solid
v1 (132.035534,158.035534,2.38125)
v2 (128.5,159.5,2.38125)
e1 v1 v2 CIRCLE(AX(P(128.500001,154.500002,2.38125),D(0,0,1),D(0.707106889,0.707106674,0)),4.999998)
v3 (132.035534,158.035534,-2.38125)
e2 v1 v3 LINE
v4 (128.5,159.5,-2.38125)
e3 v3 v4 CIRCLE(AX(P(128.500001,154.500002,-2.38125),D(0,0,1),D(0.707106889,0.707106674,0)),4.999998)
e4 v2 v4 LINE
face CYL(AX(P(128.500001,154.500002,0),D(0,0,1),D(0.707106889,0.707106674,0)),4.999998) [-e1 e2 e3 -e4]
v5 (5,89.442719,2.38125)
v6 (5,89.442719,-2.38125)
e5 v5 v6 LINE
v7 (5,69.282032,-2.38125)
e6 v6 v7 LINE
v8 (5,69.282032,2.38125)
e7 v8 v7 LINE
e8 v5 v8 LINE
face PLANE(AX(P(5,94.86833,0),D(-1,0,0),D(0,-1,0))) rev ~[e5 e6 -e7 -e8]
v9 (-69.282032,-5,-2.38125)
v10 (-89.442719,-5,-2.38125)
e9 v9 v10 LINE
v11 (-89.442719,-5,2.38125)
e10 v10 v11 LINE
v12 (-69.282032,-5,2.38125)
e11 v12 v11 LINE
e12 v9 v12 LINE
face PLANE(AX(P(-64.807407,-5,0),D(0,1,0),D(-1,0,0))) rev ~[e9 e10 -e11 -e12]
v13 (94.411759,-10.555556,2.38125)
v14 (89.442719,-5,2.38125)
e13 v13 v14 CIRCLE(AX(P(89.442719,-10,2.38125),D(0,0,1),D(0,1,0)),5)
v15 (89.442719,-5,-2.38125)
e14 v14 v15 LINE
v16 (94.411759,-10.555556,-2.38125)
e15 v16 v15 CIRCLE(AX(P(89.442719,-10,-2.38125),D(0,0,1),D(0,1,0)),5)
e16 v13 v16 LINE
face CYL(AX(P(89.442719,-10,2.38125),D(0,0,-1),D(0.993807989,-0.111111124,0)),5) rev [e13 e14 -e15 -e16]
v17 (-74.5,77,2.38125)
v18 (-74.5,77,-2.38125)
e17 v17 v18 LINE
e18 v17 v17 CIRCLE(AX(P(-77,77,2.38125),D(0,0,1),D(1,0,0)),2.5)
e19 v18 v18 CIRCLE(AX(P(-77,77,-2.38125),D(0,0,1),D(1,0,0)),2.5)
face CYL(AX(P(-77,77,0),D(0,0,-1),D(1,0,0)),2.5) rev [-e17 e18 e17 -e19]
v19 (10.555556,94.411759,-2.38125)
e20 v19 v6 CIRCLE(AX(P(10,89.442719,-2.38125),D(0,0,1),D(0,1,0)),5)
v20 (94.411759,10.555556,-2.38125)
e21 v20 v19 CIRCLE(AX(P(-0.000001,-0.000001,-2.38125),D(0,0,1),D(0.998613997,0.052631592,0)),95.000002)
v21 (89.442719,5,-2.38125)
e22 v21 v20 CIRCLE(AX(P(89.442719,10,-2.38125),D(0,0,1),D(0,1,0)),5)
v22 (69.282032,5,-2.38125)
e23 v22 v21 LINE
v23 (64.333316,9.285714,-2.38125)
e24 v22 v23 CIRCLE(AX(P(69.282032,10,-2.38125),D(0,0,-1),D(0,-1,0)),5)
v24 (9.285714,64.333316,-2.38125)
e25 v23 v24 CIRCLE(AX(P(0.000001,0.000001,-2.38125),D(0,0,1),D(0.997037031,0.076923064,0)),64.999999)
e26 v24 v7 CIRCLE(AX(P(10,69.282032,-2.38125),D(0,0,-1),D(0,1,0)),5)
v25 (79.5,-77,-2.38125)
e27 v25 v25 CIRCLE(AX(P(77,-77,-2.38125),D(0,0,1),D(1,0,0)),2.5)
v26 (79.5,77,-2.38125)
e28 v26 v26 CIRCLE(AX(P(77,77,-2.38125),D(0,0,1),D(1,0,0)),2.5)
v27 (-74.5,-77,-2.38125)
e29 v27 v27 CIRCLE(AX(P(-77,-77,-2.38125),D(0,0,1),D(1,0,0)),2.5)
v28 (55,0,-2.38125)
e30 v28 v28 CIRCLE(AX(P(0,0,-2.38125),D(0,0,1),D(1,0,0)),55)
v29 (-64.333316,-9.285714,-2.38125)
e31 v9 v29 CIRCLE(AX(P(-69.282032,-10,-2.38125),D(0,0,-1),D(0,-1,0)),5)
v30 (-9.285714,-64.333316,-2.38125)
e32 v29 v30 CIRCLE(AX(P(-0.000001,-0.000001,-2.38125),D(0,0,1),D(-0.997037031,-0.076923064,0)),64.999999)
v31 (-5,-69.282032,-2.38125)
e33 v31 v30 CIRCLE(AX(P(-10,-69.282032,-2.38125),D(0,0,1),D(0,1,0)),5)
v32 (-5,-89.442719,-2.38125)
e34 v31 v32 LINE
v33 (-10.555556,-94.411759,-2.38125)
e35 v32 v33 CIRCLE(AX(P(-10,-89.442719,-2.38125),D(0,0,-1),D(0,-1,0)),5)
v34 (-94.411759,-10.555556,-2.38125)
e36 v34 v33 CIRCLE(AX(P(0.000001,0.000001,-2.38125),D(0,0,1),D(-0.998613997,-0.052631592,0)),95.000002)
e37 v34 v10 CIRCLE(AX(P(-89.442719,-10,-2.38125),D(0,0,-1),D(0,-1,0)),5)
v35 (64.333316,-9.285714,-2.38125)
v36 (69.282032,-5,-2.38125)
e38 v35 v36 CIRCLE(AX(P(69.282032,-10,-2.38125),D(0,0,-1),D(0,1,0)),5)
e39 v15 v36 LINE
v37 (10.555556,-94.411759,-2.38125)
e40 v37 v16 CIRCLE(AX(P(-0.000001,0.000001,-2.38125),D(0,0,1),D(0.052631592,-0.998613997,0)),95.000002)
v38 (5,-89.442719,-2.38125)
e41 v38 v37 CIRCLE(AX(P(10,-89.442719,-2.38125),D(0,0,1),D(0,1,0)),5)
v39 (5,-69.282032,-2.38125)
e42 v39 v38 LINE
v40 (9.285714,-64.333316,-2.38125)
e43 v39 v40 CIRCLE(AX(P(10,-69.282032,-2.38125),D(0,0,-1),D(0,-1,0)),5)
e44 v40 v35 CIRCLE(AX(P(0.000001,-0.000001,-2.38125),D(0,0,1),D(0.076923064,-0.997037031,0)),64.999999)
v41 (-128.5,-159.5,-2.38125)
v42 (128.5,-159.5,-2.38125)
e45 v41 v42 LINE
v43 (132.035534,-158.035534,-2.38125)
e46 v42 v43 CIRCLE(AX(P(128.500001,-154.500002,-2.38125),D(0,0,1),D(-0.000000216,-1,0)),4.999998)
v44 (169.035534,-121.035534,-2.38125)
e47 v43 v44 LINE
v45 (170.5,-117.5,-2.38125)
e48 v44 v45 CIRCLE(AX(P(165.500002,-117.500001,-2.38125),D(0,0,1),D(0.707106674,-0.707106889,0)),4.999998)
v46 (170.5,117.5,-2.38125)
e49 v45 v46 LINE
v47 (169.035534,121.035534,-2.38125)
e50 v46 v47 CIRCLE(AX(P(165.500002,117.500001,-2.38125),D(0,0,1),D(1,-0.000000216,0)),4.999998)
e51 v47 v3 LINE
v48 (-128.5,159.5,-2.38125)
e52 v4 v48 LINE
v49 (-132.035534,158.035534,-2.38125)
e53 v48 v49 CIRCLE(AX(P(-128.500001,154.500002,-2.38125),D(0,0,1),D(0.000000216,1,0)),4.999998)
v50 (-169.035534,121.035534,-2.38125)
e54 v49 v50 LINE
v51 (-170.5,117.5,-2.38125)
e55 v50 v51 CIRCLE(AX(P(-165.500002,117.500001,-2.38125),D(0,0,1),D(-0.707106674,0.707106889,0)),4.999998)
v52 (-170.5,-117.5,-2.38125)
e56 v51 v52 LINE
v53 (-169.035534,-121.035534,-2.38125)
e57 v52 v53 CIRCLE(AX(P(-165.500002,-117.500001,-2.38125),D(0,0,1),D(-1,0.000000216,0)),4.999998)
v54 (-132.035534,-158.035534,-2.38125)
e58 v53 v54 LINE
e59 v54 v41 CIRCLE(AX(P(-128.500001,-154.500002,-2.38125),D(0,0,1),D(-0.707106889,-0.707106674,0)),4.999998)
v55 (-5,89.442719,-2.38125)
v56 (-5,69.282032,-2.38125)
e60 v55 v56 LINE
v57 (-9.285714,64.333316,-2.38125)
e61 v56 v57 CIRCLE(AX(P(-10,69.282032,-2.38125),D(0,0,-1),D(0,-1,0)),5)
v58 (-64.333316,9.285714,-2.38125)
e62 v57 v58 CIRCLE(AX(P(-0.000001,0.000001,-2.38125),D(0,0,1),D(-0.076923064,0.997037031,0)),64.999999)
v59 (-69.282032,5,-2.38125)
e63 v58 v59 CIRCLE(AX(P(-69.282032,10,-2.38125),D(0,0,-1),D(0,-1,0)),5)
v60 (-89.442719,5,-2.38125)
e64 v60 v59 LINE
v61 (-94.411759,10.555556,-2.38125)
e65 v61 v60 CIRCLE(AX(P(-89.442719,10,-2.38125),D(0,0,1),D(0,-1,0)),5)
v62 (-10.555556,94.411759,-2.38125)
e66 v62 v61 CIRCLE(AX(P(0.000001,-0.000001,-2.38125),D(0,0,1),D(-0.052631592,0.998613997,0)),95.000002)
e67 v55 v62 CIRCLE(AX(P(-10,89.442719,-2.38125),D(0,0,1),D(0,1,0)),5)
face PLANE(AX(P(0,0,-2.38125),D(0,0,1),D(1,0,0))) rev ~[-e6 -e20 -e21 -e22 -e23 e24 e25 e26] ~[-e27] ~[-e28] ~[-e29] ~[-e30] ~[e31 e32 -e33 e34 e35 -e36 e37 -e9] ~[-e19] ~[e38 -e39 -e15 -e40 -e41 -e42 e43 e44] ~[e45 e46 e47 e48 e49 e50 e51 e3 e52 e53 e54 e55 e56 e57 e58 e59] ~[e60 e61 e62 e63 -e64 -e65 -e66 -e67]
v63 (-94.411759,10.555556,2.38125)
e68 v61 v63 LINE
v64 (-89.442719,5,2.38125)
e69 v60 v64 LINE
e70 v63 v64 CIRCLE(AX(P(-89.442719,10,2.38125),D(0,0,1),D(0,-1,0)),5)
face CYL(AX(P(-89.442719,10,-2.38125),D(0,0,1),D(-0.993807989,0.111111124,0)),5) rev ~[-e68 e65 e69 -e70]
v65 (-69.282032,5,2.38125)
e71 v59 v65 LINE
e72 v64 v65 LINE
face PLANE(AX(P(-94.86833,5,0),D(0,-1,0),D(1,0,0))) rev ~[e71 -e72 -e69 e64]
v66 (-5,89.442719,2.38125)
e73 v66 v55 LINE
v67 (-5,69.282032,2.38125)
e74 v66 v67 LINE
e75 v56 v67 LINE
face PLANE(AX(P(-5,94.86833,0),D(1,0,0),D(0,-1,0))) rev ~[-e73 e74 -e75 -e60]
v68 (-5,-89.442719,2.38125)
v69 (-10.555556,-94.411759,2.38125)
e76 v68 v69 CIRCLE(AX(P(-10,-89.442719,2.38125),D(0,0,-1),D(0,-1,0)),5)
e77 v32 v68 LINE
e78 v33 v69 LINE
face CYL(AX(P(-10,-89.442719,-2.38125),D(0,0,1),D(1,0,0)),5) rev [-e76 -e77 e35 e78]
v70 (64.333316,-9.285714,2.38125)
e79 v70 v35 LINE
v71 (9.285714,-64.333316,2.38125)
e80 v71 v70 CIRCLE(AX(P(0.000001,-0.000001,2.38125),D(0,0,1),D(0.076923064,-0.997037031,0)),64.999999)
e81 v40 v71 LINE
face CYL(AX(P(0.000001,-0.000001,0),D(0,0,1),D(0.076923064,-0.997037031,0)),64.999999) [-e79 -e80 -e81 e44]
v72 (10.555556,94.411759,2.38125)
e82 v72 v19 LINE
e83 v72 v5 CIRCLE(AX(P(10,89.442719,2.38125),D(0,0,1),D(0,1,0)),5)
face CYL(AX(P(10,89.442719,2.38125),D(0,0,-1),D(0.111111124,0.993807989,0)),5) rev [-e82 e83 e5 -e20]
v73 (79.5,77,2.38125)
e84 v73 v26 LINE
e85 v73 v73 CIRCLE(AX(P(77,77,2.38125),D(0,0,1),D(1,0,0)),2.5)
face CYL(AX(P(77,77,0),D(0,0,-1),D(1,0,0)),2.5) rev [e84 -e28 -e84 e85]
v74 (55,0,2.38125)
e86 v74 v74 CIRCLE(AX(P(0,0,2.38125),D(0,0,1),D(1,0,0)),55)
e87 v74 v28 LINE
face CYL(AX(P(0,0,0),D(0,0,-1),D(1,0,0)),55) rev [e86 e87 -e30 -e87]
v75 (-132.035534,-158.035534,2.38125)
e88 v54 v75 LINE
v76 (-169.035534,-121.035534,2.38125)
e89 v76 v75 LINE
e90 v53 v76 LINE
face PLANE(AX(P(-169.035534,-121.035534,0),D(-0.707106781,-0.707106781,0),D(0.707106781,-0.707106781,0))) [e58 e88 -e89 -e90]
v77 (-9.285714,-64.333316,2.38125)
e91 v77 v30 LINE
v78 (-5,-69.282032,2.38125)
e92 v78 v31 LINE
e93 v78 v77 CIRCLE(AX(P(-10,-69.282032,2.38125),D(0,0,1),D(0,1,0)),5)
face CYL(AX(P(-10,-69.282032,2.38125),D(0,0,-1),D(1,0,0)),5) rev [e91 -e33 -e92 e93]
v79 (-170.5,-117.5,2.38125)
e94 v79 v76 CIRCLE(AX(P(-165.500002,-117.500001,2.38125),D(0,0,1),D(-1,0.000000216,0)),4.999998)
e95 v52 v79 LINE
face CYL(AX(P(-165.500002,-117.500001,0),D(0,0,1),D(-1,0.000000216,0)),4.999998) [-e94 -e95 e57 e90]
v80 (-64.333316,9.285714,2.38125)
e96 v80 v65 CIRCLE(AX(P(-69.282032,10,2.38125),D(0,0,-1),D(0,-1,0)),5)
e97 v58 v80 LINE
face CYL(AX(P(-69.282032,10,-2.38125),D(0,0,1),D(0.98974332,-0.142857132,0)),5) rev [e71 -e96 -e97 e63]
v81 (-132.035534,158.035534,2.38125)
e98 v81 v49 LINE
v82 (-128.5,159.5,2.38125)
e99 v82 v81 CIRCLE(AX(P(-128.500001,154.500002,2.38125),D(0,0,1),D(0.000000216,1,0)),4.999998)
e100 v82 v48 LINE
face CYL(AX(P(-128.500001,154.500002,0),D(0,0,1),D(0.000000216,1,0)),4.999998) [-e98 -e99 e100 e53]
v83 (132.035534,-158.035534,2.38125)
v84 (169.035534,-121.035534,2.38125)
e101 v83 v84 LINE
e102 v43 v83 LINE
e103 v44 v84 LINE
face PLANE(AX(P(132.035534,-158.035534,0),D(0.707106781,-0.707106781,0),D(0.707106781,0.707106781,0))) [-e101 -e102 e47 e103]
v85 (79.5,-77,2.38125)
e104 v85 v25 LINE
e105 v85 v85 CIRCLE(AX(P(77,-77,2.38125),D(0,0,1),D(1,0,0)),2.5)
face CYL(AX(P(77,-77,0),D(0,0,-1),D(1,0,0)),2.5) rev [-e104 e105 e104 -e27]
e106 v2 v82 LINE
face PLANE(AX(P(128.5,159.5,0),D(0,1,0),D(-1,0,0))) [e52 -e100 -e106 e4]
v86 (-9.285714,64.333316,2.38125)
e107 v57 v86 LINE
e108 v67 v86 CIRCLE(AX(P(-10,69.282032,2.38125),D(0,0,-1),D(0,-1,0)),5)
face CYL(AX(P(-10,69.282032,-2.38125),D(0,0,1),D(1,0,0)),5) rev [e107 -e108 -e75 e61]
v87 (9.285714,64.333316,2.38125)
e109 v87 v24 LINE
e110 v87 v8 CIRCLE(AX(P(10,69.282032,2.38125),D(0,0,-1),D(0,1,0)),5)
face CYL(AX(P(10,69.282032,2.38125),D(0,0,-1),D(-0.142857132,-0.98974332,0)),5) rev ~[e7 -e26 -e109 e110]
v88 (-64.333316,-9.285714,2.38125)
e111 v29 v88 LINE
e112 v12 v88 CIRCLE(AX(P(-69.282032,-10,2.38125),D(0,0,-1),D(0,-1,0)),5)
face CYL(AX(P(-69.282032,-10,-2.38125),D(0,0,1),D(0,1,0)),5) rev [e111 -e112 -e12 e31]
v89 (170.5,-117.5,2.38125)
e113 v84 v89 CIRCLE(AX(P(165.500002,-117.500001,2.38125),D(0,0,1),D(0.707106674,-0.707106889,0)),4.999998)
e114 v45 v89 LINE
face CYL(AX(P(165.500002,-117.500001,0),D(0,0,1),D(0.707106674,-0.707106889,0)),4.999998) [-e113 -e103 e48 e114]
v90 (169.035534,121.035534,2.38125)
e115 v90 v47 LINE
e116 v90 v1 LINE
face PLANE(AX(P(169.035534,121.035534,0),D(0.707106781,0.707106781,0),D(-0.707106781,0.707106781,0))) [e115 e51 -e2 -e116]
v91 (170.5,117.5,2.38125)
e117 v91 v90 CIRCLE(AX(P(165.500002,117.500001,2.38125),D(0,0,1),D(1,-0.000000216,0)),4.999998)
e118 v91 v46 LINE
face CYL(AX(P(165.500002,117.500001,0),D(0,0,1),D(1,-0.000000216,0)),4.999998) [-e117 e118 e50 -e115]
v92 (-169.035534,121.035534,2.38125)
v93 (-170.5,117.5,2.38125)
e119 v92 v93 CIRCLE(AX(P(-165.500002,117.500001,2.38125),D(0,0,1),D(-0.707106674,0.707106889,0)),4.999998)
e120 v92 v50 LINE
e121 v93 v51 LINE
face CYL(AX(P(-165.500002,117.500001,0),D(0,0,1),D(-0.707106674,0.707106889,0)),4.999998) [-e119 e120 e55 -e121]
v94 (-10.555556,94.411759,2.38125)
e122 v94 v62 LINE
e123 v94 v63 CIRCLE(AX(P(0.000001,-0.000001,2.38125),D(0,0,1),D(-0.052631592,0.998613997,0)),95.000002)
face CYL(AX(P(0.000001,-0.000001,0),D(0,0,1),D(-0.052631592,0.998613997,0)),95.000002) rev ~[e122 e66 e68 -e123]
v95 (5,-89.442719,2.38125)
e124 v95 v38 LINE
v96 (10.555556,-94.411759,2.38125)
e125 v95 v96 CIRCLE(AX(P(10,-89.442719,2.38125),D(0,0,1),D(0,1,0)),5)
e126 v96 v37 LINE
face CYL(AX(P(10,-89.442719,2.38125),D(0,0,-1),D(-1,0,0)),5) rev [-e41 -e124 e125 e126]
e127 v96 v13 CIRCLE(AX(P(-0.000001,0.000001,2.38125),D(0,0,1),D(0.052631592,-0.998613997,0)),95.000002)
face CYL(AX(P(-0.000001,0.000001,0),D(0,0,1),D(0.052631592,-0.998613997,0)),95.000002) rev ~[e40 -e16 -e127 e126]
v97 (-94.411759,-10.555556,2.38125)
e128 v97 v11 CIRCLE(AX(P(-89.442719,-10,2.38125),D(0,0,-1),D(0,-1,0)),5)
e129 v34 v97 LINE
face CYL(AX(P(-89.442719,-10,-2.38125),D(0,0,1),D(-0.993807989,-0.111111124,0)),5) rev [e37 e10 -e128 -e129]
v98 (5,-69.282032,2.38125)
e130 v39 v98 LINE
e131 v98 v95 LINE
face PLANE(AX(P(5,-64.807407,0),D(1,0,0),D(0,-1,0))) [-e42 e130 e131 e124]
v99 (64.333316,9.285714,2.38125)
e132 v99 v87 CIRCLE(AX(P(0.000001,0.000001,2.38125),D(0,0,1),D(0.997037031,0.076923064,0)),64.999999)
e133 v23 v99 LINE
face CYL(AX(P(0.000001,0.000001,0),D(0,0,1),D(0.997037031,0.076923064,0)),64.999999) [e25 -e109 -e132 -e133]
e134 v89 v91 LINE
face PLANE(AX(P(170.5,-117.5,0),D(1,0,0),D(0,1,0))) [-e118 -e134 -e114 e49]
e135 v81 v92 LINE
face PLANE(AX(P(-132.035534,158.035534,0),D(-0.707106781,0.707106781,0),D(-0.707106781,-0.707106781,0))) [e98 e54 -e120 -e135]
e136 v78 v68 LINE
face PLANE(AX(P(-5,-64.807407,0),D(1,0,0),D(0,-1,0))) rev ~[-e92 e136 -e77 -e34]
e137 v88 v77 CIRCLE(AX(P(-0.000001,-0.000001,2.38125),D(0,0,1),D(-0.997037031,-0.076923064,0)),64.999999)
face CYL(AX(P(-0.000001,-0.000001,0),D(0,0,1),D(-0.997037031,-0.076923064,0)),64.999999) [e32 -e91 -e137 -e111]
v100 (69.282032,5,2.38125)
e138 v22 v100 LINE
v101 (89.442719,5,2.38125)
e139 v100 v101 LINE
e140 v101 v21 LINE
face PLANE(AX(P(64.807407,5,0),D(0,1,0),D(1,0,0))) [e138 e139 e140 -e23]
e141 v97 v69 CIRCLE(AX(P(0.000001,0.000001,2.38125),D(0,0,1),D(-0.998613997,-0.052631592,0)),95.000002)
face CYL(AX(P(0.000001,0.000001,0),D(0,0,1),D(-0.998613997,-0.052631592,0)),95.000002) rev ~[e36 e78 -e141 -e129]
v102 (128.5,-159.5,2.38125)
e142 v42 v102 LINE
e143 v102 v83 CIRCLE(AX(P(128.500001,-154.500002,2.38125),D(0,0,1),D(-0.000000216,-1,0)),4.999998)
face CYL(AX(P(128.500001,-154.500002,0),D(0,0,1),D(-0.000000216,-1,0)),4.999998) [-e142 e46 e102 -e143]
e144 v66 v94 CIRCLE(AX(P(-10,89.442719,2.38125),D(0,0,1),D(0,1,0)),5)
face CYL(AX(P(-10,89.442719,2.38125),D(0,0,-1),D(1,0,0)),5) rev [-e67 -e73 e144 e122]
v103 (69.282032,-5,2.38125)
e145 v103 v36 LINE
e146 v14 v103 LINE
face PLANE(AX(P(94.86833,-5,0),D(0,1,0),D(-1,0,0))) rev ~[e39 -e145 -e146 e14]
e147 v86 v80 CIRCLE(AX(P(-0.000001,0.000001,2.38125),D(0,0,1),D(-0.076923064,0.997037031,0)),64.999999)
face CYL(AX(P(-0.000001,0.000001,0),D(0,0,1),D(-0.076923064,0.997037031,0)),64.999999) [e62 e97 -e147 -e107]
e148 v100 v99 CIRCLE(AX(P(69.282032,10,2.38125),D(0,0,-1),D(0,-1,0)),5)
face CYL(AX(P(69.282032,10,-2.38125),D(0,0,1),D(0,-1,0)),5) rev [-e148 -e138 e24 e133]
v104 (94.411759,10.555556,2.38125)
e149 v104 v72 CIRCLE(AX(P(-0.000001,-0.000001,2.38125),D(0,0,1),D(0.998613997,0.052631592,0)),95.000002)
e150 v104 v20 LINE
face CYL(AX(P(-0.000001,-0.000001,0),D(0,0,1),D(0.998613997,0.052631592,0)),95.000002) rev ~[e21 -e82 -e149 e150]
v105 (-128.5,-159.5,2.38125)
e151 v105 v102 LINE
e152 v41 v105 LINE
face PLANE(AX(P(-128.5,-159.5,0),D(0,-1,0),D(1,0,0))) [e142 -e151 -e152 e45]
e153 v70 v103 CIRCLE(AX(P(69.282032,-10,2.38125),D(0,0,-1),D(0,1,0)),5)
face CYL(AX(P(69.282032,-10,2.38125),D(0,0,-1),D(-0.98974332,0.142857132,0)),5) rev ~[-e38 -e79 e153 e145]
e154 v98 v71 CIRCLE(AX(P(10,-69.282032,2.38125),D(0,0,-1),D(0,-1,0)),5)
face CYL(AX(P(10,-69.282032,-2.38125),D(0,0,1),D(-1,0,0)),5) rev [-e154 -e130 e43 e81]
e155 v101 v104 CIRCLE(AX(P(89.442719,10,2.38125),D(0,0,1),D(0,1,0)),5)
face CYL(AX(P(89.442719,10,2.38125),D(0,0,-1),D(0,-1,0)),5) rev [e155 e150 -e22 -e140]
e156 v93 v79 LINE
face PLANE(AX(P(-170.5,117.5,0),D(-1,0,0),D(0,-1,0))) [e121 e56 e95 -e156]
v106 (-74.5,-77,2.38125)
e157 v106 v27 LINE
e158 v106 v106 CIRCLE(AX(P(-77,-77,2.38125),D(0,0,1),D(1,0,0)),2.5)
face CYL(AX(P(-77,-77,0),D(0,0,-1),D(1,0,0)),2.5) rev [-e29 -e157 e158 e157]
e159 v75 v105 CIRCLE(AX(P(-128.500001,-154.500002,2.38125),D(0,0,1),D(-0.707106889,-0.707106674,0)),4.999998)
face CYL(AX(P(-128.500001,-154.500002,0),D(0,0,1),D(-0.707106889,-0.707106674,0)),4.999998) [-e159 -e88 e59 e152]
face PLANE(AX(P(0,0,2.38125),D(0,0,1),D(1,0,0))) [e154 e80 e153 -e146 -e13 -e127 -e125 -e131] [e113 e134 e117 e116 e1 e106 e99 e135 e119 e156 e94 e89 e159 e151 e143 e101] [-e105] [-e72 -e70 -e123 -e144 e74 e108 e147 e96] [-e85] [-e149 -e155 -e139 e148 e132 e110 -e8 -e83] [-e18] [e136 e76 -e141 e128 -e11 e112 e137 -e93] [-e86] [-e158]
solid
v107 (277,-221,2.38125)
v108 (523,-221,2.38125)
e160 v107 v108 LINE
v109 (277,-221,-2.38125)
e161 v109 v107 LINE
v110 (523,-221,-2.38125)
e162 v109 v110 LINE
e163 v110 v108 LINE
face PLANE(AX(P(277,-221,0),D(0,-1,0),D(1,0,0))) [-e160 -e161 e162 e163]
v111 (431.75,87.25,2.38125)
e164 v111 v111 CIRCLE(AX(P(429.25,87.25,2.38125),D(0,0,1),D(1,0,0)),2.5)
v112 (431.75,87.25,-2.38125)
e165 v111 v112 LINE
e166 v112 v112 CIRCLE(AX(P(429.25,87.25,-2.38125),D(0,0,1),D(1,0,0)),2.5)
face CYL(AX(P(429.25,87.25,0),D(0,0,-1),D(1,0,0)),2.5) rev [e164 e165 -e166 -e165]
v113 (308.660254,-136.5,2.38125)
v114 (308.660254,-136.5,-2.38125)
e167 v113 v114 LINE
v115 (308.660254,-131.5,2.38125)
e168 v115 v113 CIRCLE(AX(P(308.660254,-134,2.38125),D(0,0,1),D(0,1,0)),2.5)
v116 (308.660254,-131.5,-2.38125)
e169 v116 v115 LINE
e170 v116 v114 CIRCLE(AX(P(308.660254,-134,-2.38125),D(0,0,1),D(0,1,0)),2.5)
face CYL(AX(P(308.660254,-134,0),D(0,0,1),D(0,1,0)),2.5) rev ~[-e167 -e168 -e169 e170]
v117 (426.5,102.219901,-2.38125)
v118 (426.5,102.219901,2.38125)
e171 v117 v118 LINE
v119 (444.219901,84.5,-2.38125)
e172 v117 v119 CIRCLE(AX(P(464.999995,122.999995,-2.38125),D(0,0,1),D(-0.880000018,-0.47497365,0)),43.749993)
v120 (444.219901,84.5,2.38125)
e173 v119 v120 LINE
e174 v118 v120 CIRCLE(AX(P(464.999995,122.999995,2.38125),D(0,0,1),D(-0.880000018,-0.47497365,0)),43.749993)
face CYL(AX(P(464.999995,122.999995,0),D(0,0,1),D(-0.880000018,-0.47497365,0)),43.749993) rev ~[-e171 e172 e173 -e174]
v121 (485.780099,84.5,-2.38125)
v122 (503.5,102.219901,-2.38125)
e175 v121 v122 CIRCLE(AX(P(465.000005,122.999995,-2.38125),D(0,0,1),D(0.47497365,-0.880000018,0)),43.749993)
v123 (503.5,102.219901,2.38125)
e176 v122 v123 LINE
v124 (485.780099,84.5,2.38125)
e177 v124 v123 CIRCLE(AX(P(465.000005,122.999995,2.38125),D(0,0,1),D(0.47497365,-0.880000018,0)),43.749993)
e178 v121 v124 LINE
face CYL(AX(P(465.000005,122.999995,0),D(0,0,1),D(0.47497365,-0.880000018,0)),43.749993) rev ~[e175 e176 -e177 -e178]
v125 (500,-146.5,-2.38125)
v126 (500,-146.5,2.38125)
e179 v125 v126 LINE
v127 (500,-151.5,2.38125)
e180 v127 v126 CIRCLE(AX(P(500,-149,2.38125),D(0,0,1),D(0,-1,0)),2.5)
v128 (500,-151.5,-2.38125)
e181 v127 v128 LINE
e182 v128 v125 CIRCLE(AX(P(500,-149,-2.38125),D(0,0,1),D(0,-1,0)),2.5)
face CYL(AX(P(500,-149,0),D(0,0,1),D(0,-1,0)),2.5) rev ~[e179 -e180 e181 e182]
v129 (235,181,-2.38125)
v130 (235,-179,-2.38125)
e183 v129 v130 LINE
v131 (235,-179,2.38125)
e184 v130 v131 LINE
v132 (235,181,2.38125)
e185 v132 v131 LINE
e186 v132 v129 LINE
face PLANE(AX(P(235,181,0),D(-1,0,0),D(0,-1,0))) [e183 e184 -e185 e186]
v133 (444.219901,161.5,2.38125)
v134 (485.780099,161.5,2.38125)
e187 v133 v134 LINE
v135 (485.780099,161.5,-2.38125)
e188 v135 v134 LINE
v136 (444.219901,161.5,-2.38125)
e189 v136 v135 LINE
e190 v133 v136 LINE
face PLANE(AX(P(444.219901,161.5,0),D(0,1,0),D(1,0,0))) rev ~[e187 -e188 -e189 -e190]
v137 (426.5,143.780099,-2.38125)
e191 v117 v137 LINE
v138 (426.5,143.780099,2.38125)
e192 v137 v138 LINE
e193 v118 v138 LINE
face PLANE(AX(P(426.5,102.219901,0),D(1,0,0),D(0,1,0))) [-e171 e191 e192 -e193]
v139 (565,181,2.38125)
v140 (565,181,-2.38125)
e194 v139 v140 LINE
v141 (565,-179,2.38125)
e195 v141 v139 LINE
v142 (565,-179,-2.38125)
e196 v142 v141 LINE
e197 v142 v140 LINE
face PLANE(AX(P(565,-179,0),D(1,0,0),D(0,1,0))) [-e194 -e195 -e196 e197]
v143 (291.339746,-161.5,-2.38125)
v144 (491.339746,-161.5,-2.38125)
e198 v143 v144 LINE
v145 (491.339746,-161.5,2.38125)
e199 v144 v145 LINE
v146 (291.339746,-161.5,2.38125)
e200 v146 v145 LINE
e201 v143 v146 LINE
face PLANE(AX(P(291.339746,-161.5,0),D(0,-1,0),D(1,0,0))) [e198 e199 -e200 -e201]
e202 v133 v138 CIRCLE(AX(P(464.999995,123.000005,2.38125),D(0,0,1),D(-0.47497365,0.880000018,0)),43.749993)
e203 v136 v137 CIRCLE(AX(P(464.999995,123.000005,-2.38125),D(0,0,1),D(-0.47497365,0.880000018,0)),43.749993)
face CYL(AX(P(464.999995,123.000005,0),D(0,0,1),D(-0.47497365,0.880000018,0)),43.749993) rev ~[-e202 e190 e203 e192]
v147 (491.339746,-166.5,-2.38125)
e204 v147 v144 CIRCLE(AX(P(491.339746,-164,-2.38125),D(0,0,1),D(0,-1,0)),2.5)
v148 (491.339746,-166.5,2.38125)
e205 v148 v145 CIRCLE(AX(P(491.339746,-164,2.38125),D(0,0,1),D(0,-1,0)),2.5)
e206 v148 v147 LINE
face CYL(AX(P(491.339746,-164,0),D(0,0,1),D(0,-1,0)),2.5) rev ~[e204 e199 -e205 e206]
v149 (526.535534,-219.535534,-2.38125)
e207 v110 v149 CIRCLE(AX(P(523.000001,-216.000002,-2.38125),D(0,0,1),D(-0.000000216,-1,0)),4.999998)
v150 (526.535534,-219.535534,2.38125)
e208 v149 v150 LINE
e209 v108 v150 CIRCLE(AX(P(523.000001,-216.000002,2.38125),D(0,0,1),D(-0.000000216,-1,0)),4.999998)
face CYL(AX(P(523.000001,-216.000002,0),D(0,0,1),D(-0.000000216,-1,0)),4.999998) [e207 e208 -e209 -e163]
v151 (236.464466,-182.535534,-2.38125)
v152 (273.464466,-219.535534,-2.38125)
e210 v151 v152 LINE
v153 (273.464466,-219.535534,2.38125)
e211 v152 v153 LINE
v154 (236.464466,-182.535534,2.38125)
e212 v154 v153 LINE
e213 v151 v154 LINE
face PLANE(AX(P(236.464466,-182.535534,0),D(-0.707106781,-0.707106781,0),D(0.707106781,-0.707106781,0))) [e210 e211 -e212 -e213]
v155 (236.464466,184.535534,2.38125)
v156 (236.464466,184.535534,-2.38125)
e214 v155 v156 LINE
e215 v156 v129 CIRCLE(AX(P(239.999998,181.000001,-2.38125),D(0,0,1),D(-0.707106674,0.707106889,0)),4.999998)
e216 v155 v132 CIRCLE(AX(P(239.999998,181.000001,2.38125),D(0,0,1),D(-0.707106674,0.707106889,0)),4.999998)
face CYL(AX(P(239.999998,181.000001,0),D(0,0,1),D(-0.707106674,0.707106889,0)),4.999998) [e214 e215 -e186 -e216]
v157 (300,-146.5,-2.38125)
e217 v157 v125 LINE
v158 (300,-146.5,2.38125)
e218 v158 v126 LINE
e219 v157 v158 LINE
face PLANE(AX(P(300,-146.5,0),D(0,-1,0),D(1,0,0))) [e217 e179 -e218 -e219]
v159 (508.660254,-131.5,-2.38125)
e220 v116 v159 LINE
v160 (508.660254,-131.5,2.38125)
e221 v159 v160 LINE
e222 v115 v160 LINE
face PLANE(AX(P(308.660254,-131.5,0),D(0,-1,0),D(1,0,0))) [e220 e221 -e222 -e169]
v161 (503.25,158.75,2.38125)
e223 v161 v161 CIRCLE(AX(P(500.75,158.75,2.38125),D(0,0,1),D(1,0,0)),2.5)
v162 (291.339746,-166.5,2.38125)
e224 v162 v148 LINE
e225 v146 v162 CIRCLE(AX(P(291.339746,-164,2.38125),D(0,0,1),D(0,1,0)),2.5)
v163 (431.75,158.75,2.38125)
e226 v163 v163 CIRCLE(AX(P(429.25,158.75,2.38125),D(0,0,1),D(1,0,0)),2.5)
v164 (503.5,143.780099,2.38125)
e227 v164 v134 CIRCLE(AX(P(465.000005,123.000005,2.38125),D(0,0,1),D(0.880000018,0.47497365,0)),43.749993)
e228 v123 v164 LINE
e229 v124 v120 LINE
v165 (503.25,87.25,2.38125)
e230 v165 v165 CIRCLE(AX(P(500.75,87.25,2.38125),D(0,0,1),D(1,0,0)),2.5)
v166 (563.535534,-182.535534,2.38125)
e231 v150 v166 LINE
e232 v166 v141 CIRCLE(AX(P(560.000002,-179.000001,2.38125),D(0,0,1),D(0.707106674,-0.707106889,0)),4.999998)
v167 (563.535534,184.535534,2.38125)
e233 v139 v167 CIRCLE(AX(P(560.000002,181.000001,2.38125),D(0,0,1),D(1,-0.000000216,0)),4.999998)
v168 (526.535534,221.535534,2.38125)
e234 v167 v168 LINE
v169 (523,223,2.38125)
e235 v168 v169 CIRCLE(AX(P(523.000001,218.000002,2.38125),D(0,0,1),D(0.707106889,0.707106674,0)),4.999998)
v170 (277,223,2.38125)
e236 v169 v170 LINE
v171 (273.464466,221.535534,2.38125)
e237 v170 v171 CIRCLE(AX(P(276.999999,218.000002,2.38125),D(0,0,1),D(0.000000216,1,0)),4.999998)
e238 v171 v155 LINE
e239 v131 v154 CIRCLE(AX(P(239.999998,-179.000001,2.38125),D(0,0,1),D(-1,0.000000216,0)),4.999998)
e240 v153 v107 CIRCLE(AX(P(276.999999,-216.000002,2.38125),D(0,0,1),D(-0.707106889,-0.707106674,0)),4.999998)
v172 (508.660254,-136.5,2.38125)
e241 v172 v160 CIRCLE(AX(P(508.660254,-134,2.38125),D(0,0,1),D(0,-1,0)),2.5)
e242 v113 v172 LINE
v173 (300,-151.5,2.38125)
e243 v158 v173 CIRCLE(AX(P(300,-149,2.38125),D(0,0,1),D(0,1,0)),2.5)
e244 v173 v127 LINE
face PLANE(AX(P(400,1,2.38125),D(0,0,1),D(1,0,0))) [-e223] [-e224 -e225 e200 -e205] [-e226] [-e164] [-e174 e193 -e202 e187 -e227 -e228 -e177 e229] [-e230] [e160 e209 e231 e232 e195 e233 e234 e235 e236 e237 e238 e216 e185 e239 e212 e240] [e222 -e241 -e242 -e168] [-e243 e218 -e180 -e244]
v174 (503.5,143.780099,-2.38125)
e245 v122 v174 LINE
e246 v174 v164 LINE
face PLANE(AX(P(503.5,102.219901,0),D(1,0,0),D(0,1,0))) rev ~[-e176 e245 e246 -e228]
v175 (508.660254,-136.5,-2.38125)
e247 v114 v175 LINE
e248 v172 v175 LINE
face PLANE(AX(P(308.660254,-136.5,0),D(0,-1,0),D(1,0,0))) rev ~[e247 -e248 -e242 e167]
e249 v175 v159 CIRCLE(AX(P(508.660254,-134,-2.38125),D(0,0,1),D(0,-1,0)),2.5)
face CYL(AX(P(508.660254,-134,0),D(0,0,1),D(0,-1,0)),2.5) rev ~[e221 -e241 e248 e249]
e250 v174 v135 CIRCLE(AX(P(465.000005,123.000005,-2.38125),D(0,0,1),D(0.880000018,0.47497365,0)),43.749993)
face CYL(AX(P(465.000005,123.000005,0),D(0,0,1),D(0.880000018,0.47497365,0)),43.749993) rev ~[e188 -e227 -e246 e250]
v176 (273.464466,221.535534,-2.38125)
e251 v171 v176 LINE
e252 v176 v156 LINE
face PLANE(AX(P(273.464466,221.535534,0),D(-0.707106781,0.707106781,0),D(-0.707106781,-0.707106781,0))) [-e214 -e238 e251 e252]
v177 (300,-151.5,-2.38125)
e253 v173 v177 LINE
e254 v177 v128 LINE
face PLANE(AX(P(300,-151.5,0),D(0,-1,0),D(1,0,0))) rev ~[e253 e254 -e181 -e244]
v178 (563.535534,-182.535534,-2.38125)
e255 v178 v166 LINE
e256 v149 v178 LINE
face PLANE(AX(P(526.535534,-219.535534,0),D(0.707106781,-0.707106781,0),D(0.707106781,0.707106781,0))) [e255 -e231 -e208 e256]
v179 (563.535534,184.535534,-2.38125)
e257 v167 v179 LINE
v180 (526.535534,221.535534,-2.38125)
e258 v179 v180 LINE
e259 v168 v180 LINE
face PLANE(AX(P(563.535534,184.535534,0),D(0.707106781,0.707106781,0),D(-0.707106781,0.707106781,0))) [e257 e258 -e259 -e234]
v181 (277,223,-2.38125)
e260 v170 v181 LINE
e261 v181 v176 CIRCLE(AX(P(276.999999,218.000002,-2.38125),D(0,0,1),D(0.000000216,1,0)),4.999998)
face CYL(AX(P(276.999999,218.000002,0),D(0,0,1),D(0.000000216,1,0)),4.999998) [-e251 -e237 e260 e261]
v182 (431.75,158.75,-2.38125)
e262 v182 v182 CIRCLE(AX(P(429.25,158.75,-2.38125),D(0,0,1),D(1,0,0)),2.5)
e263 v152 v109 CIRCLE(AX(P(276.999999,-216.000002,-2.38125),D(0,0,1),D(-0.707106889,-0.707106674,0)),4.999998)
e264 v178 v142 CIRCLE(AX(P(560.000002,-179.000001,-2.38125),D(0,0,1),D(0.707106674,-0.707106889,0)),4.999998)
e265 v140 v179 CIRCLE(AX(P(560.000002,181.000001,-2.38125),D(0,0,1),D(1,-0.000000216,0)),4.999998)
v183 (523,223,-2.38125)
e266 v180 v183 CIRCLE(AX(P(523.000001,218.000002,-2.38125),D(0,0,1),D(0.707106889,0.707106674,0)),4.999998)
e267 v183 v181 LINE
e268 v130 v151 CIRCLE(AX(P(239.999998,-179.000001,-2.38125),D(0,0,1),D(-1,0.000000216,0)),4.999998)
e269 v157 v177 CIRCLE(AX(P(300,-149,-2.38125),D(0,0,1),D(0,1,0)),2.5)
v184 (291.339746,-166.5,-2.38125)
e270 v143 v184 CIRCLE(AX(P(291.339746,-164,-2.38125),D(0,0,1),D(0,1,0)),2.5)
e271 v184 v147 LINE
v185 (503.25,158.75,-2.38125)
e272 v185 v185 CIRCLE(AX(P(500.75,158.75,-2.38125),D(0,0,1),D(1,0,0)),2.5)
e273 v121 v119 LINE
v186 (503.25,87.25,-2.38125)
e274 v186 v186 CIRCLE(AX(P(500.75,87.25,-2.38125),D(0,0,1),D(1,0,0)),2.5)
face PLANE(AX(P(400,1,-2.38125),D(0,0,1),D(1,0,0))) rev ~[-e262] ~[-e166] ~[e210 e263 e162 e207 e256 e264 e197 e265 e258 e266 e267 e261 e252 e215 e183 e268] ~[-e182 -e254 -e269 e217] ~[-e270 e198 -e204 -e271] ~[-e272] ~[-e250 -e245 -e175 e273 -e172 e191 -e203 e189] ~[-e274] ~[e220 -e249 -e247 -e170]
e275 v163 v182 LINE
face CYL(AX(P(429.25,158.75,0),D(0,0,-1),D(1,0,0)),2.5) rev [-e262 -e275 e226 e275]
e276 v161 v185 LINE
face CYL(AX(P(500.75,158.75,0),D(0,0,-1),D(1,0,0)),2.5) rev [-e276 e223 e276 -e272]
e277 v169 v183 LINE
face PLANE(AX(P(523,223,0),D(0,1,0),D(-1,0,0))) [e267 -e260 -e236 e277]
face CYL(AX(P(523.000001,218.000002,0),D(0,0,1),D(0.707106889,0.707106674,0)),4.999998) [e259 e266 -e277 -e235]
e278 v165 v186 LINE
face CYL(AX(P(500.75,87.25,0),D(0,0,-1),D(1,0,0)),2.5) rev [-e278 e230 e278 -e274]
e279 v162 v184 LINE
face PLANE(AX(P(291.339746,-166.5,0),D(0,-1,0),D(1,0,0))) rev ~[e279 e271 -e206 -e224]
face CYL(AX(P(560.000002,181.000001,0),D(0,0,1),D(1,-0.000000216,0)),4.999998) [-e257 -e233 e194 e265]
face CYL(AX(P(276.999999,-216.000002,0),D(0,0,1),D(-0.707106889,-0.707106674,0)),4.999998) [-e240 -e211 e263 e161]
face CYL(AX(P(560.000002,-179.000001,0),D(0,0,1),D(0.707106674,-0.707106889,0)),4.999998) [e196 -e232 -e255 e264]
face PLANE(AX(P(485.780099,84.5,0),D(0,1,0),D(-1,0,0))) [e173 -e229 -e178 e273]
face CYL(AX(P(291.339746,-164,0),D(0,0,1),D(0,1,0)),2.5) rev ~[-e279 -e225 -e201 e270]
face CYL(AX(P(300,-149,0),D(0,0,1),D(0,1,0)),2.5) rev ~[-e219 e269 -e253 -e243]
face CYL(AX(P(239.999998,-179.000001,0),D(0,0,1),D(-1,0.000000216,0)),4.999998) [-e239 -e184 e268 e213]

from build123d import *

# Parameters (mm, degrees)
SKETCH001_R   = 2.5
PAD_DEPTH     = 2.38125
SKETCH002_R   = 55
SKETCH002_R_2 = 2.5
PAD001_DEPTH  = 2.38125
FILLET_R      = 5


with BuildPart() as side_acrylic_panel:
    # Sketch001 → Pad (new body, symmetric)
    with BuildSketch(Plane(origin=(400, 1, 0), x_dir=(1, 0, 0), z_dir=(0, 0, 1))):
        with BuildLine():
            Line((-165, 180), (-165, -180))
            ThreePointArc((-165, -180), (-164.619398, -181.913417), (-163.535534, -183.535534))
            Line((-163.535534, -183.535534), (-126.535534, -220.535534))
            ThreePointArc((-126.535534, -220.535534), (-124.913417, -221.619398), (-123, -222))
            Line((-123, -222), (123, -222))
            ThreePointArc((123, -222), (124.913417, -221.619398), (126.535534, -220.535534))
            Line((126.535534, -220.535534), (163.535534, -183.535534))
            ThreePointArc((163.535534, -183.535534), (164.619398, -181.913417), (165, -180))
            Line((165, -180), (165, 180))
            ThreePointArc((165, 180), (164.619398, 181.913417), (163.535534, 183.535534))
            Line((163.535534, 183.535534), (126.535534, 220.535534))
            ThreePointArc((126.535534, 220.535534), (124.913417, 221.619398), (123, 222))
            Line((123, 222), (-123, 222))
            ThreePointArc((-123, 222), (-124.913417, 221.619398), (-126.535534, 220.535534))
            Line((-126.535534, 220.535534), (-163.535534, 183.535534))
            ThreePointArc((-163.535534, 183.535534), (-164.619398, 181.913417), (-165, 180))
        make_face()
        with Locations((29.25, 157.75)):
            Circle(SKETCH001_R, mode=Mode.SUBTRACT)
        with Locations((100.75, 157.75)):
            Circle(SKETCH001_R, mode=Mode.SUBTRACT)
        with Locations((100.75, 86.25)):
            Circle(SKETCH001_R, mode=Mode.SUBTRACT)
        with Locations((29.25, 86.25)):
            Circle(SKETCH001_R, mode=Mode.SUBTRACT)
        with BuildLine():
            ThreePointArc((-91.339746, -132.5), (-93.839746, -135), (-91.339746, -137.5))
            Line((-91.339746, -137.5), (108.660254, -137.5))
            ThreePointArc((108.660254, -137.5), (111.160254, -135), (108.660254, -132.5))
            Line((-91.339746, -132.5), (108.660254, -132.5))
        make_face(mode=Mode.SUBTRACT)
        with BuildLine():
            ThreePointArc((-100, -147.5), (-102.5, -150), (-100, -152.5))
            Line((-100, -152.5), (100, -152.5))
            ThreePointArc((100, -152.5), (102.5, -150), (100, -147.5))
            Line((-100, -147.5), (100, -147.5))
        make_face(mode=Mode.SUBTRACT)
        with BuildLine():
            ThreePointArc((-108.660254, -162.5), (-111.160254, -165), (-108.660254, -167.5))
            Line((-108.660254, -167.5), (91.339746, -167.5))
            ThreePointArc((91.339746, -167.5), (93.839746, -165), (91.339746, -162.5))
            Line((-108.660254, -162.5), (91.339746, -162.5))
        make_face(mode=Mode.SUBTRACT)
        with BuildLine():
            Line((44.219901, 160.5), (85.780099, 160.5))
            ThreePointArc((103.5, 142.780099), (95.935922, 152.935922), (85.780099, 160.5))
            Line((103.5, 101.219901), (103.5, 142.780099))
            ThreePointArc((85.780099, 83.5), (95.935922, 91.064078), (103.5, 101.219901))
            Line((85.780099, 83.5), (44.219901, 83.5))
            ThreePointArc((26.5, 101.219901), (34.064078, 91.064078), (44.219901, 83.5))
            Line((26.5, 101.219901), (26.5, 142.780099))
            ThreePointArc((44.219901, 160.5), (34.064078, 152.935922), (26.5, 142.780099))
        make_face(mode=Mode.SUBTRACT)
    extrude(amount=PAD_DEPTH, both=True)


with BuildPart() as top_acrylic_panel:
    # Sketch002 → Pad001 (new body, symmetric)
    with BuildSketch(Plane.XY):
        with BuildLine():
            Line((-170.5, 117.5), (-170.5, -117.5))
            ThreePointArc((-170.5, -117.5), (-170.119398, -119.413417), (-169.035534, -121.035534))
            Line((-169.035534, -121.035534), (-132.035534, -158.035534))
            ThreePointArc((-132.035534, -158.035534), (-130.413417, -159.119398), (-128.5, -159.5))
            Line((-128.5, -159.5), (128.5, -159.5))
            ThreePointArc((128.5, -159.5), (130.413417, -159.119398), (132.035534, -158.035534))
            Line((132.035534, -158.035534), (169.035534, -121.035534))
            ThreePointArc((169.035534, -121.035534), (170.119398, -119.413417), (170.5, -117.5))
            Line((170.5, -117.5), (170.5, 117.5))
            ThreePointArc((170.5, 117.5), (170.119398, 119.413417), (169.035534, 121.035534))
            Line((169.035534, 121.035534), (132.035534, 158.035534))
            ThreePointArc((132.035534, 158.035534), (130.413417, 159.119398), (128.5, 159.5))
            Line((128.5, 159.5), (-128.5, 159.5))
            ThreePointArc((-128.5, 159.5), (-130.413417, 159.119398), (-132.035534, 158.035534))
            Line((-132.035534, 158.035534), (-169.035534, 121.035534))
            ThreePointArc((-169.035534, 121.035534), (-170.119398, 119.413417), (-170.5, 117.5))
        make_face()
        Circle(SKETCH002_R, mode=Mode.SUBTRACT)
        with Locations((-77, 77)):
            Circle(SKETCH002_R_2, mode=Mode.SUBTRACT)
        with Locations((77, -77)):
            Circle(SKETCH002_R_2, mode=Mode.SUBTRACT)
        with Locations((-77, -77)):
            Circle(SKETCH002_R_2, mode=Mode.SUBTRACT)
        with Locations((77, 77)):
            Circle(SKETCH002_R_2, mode=Mode.SUBTRACT)
        with BuildLine():
            Line((-94.86833, 5), (-64.807407, 5))
            ThreePointArc((-5, 64.807407), (-45.961941, 45.961941), (-64.807407, 5))
            Line((-5, 94.86833), (-5, 64.807407))
            ThreePointArc((-5, 94.86833), (-67.175144, 67.175144), (-94.86833, 5))
        make_face(mode=Mode.SUBTRACT)
        with BuildLine():
            Line((94.86833, -5), (64.807407, -5))
            ThreePointArc((5, -64.807407), (45.961941, -45.961941), (64.807407, -5))
            Line((5, -64.807407), (5, -94.86833))
            ThreePointArc((5, -94.86833), (67.175144, -67.175144), (94.86833, -5))
        make_face(mode=Mode.SUBTRACT)
        with BuildLine():
            Line((5, 94.86833), (5, 64.807407))
            ThreePointArc((64.807407, 5), (45.961941, 45.961941), (5, 64.807407))
            Line((64.807407, 5), (94.86833, 5))
            ThreePointArc((94.86833, 5), (67.175144, 67.175144), (5, 94.86833))
        make_face(mode=Mode.SUBTRACT)
        with BuildLine():
            Line((-5, -64.807407), (-5, -94.86833))
            ThreePointArc((-94.86833, -5), (-67.175144, -67.175144), (-5, -94.86833))
            Line((-64.807407, -5), (-94.86833, -5))
            ThreePointArc((-64.807407, -5), (-45.961941, -45.961941), (-5, -64.807407))
        make_face(mode=Mode.SUBTRACT)
    extrude(amount=PAD001_DEPTH, both=True)

    # Fillet
    fillet_edges = [top_acrylic_panel.edges().sort_by_distance(p)[0] for p in [
        (5, 94.86833, 0),
        (-5, 94.86833, 0),
        (-5, 64.807407, 0),
        (5, 64.807407, 0),
        (64.807407, 5, 0),
        (64.807407, -5, 0),
        (94.86833, 5, 0),
        (94.86833, -5, 0),
        (5, -94.86833, 0),
        (-5, -94.86833, 0),
        (-5, -64.807407, 0),
        (5, -64.807407, 0),
        (-94.86833, 5, 0),
        (-94.86833, -5, 0),
        (-64.807407, -5, 0),
        (-64.807407, 5, 0),
    ]]
    fillet(fillet_edges, radius=FILLET_R)


solid = Compound([side_acrylic_panel.part, top_acrylic_panel.part])
